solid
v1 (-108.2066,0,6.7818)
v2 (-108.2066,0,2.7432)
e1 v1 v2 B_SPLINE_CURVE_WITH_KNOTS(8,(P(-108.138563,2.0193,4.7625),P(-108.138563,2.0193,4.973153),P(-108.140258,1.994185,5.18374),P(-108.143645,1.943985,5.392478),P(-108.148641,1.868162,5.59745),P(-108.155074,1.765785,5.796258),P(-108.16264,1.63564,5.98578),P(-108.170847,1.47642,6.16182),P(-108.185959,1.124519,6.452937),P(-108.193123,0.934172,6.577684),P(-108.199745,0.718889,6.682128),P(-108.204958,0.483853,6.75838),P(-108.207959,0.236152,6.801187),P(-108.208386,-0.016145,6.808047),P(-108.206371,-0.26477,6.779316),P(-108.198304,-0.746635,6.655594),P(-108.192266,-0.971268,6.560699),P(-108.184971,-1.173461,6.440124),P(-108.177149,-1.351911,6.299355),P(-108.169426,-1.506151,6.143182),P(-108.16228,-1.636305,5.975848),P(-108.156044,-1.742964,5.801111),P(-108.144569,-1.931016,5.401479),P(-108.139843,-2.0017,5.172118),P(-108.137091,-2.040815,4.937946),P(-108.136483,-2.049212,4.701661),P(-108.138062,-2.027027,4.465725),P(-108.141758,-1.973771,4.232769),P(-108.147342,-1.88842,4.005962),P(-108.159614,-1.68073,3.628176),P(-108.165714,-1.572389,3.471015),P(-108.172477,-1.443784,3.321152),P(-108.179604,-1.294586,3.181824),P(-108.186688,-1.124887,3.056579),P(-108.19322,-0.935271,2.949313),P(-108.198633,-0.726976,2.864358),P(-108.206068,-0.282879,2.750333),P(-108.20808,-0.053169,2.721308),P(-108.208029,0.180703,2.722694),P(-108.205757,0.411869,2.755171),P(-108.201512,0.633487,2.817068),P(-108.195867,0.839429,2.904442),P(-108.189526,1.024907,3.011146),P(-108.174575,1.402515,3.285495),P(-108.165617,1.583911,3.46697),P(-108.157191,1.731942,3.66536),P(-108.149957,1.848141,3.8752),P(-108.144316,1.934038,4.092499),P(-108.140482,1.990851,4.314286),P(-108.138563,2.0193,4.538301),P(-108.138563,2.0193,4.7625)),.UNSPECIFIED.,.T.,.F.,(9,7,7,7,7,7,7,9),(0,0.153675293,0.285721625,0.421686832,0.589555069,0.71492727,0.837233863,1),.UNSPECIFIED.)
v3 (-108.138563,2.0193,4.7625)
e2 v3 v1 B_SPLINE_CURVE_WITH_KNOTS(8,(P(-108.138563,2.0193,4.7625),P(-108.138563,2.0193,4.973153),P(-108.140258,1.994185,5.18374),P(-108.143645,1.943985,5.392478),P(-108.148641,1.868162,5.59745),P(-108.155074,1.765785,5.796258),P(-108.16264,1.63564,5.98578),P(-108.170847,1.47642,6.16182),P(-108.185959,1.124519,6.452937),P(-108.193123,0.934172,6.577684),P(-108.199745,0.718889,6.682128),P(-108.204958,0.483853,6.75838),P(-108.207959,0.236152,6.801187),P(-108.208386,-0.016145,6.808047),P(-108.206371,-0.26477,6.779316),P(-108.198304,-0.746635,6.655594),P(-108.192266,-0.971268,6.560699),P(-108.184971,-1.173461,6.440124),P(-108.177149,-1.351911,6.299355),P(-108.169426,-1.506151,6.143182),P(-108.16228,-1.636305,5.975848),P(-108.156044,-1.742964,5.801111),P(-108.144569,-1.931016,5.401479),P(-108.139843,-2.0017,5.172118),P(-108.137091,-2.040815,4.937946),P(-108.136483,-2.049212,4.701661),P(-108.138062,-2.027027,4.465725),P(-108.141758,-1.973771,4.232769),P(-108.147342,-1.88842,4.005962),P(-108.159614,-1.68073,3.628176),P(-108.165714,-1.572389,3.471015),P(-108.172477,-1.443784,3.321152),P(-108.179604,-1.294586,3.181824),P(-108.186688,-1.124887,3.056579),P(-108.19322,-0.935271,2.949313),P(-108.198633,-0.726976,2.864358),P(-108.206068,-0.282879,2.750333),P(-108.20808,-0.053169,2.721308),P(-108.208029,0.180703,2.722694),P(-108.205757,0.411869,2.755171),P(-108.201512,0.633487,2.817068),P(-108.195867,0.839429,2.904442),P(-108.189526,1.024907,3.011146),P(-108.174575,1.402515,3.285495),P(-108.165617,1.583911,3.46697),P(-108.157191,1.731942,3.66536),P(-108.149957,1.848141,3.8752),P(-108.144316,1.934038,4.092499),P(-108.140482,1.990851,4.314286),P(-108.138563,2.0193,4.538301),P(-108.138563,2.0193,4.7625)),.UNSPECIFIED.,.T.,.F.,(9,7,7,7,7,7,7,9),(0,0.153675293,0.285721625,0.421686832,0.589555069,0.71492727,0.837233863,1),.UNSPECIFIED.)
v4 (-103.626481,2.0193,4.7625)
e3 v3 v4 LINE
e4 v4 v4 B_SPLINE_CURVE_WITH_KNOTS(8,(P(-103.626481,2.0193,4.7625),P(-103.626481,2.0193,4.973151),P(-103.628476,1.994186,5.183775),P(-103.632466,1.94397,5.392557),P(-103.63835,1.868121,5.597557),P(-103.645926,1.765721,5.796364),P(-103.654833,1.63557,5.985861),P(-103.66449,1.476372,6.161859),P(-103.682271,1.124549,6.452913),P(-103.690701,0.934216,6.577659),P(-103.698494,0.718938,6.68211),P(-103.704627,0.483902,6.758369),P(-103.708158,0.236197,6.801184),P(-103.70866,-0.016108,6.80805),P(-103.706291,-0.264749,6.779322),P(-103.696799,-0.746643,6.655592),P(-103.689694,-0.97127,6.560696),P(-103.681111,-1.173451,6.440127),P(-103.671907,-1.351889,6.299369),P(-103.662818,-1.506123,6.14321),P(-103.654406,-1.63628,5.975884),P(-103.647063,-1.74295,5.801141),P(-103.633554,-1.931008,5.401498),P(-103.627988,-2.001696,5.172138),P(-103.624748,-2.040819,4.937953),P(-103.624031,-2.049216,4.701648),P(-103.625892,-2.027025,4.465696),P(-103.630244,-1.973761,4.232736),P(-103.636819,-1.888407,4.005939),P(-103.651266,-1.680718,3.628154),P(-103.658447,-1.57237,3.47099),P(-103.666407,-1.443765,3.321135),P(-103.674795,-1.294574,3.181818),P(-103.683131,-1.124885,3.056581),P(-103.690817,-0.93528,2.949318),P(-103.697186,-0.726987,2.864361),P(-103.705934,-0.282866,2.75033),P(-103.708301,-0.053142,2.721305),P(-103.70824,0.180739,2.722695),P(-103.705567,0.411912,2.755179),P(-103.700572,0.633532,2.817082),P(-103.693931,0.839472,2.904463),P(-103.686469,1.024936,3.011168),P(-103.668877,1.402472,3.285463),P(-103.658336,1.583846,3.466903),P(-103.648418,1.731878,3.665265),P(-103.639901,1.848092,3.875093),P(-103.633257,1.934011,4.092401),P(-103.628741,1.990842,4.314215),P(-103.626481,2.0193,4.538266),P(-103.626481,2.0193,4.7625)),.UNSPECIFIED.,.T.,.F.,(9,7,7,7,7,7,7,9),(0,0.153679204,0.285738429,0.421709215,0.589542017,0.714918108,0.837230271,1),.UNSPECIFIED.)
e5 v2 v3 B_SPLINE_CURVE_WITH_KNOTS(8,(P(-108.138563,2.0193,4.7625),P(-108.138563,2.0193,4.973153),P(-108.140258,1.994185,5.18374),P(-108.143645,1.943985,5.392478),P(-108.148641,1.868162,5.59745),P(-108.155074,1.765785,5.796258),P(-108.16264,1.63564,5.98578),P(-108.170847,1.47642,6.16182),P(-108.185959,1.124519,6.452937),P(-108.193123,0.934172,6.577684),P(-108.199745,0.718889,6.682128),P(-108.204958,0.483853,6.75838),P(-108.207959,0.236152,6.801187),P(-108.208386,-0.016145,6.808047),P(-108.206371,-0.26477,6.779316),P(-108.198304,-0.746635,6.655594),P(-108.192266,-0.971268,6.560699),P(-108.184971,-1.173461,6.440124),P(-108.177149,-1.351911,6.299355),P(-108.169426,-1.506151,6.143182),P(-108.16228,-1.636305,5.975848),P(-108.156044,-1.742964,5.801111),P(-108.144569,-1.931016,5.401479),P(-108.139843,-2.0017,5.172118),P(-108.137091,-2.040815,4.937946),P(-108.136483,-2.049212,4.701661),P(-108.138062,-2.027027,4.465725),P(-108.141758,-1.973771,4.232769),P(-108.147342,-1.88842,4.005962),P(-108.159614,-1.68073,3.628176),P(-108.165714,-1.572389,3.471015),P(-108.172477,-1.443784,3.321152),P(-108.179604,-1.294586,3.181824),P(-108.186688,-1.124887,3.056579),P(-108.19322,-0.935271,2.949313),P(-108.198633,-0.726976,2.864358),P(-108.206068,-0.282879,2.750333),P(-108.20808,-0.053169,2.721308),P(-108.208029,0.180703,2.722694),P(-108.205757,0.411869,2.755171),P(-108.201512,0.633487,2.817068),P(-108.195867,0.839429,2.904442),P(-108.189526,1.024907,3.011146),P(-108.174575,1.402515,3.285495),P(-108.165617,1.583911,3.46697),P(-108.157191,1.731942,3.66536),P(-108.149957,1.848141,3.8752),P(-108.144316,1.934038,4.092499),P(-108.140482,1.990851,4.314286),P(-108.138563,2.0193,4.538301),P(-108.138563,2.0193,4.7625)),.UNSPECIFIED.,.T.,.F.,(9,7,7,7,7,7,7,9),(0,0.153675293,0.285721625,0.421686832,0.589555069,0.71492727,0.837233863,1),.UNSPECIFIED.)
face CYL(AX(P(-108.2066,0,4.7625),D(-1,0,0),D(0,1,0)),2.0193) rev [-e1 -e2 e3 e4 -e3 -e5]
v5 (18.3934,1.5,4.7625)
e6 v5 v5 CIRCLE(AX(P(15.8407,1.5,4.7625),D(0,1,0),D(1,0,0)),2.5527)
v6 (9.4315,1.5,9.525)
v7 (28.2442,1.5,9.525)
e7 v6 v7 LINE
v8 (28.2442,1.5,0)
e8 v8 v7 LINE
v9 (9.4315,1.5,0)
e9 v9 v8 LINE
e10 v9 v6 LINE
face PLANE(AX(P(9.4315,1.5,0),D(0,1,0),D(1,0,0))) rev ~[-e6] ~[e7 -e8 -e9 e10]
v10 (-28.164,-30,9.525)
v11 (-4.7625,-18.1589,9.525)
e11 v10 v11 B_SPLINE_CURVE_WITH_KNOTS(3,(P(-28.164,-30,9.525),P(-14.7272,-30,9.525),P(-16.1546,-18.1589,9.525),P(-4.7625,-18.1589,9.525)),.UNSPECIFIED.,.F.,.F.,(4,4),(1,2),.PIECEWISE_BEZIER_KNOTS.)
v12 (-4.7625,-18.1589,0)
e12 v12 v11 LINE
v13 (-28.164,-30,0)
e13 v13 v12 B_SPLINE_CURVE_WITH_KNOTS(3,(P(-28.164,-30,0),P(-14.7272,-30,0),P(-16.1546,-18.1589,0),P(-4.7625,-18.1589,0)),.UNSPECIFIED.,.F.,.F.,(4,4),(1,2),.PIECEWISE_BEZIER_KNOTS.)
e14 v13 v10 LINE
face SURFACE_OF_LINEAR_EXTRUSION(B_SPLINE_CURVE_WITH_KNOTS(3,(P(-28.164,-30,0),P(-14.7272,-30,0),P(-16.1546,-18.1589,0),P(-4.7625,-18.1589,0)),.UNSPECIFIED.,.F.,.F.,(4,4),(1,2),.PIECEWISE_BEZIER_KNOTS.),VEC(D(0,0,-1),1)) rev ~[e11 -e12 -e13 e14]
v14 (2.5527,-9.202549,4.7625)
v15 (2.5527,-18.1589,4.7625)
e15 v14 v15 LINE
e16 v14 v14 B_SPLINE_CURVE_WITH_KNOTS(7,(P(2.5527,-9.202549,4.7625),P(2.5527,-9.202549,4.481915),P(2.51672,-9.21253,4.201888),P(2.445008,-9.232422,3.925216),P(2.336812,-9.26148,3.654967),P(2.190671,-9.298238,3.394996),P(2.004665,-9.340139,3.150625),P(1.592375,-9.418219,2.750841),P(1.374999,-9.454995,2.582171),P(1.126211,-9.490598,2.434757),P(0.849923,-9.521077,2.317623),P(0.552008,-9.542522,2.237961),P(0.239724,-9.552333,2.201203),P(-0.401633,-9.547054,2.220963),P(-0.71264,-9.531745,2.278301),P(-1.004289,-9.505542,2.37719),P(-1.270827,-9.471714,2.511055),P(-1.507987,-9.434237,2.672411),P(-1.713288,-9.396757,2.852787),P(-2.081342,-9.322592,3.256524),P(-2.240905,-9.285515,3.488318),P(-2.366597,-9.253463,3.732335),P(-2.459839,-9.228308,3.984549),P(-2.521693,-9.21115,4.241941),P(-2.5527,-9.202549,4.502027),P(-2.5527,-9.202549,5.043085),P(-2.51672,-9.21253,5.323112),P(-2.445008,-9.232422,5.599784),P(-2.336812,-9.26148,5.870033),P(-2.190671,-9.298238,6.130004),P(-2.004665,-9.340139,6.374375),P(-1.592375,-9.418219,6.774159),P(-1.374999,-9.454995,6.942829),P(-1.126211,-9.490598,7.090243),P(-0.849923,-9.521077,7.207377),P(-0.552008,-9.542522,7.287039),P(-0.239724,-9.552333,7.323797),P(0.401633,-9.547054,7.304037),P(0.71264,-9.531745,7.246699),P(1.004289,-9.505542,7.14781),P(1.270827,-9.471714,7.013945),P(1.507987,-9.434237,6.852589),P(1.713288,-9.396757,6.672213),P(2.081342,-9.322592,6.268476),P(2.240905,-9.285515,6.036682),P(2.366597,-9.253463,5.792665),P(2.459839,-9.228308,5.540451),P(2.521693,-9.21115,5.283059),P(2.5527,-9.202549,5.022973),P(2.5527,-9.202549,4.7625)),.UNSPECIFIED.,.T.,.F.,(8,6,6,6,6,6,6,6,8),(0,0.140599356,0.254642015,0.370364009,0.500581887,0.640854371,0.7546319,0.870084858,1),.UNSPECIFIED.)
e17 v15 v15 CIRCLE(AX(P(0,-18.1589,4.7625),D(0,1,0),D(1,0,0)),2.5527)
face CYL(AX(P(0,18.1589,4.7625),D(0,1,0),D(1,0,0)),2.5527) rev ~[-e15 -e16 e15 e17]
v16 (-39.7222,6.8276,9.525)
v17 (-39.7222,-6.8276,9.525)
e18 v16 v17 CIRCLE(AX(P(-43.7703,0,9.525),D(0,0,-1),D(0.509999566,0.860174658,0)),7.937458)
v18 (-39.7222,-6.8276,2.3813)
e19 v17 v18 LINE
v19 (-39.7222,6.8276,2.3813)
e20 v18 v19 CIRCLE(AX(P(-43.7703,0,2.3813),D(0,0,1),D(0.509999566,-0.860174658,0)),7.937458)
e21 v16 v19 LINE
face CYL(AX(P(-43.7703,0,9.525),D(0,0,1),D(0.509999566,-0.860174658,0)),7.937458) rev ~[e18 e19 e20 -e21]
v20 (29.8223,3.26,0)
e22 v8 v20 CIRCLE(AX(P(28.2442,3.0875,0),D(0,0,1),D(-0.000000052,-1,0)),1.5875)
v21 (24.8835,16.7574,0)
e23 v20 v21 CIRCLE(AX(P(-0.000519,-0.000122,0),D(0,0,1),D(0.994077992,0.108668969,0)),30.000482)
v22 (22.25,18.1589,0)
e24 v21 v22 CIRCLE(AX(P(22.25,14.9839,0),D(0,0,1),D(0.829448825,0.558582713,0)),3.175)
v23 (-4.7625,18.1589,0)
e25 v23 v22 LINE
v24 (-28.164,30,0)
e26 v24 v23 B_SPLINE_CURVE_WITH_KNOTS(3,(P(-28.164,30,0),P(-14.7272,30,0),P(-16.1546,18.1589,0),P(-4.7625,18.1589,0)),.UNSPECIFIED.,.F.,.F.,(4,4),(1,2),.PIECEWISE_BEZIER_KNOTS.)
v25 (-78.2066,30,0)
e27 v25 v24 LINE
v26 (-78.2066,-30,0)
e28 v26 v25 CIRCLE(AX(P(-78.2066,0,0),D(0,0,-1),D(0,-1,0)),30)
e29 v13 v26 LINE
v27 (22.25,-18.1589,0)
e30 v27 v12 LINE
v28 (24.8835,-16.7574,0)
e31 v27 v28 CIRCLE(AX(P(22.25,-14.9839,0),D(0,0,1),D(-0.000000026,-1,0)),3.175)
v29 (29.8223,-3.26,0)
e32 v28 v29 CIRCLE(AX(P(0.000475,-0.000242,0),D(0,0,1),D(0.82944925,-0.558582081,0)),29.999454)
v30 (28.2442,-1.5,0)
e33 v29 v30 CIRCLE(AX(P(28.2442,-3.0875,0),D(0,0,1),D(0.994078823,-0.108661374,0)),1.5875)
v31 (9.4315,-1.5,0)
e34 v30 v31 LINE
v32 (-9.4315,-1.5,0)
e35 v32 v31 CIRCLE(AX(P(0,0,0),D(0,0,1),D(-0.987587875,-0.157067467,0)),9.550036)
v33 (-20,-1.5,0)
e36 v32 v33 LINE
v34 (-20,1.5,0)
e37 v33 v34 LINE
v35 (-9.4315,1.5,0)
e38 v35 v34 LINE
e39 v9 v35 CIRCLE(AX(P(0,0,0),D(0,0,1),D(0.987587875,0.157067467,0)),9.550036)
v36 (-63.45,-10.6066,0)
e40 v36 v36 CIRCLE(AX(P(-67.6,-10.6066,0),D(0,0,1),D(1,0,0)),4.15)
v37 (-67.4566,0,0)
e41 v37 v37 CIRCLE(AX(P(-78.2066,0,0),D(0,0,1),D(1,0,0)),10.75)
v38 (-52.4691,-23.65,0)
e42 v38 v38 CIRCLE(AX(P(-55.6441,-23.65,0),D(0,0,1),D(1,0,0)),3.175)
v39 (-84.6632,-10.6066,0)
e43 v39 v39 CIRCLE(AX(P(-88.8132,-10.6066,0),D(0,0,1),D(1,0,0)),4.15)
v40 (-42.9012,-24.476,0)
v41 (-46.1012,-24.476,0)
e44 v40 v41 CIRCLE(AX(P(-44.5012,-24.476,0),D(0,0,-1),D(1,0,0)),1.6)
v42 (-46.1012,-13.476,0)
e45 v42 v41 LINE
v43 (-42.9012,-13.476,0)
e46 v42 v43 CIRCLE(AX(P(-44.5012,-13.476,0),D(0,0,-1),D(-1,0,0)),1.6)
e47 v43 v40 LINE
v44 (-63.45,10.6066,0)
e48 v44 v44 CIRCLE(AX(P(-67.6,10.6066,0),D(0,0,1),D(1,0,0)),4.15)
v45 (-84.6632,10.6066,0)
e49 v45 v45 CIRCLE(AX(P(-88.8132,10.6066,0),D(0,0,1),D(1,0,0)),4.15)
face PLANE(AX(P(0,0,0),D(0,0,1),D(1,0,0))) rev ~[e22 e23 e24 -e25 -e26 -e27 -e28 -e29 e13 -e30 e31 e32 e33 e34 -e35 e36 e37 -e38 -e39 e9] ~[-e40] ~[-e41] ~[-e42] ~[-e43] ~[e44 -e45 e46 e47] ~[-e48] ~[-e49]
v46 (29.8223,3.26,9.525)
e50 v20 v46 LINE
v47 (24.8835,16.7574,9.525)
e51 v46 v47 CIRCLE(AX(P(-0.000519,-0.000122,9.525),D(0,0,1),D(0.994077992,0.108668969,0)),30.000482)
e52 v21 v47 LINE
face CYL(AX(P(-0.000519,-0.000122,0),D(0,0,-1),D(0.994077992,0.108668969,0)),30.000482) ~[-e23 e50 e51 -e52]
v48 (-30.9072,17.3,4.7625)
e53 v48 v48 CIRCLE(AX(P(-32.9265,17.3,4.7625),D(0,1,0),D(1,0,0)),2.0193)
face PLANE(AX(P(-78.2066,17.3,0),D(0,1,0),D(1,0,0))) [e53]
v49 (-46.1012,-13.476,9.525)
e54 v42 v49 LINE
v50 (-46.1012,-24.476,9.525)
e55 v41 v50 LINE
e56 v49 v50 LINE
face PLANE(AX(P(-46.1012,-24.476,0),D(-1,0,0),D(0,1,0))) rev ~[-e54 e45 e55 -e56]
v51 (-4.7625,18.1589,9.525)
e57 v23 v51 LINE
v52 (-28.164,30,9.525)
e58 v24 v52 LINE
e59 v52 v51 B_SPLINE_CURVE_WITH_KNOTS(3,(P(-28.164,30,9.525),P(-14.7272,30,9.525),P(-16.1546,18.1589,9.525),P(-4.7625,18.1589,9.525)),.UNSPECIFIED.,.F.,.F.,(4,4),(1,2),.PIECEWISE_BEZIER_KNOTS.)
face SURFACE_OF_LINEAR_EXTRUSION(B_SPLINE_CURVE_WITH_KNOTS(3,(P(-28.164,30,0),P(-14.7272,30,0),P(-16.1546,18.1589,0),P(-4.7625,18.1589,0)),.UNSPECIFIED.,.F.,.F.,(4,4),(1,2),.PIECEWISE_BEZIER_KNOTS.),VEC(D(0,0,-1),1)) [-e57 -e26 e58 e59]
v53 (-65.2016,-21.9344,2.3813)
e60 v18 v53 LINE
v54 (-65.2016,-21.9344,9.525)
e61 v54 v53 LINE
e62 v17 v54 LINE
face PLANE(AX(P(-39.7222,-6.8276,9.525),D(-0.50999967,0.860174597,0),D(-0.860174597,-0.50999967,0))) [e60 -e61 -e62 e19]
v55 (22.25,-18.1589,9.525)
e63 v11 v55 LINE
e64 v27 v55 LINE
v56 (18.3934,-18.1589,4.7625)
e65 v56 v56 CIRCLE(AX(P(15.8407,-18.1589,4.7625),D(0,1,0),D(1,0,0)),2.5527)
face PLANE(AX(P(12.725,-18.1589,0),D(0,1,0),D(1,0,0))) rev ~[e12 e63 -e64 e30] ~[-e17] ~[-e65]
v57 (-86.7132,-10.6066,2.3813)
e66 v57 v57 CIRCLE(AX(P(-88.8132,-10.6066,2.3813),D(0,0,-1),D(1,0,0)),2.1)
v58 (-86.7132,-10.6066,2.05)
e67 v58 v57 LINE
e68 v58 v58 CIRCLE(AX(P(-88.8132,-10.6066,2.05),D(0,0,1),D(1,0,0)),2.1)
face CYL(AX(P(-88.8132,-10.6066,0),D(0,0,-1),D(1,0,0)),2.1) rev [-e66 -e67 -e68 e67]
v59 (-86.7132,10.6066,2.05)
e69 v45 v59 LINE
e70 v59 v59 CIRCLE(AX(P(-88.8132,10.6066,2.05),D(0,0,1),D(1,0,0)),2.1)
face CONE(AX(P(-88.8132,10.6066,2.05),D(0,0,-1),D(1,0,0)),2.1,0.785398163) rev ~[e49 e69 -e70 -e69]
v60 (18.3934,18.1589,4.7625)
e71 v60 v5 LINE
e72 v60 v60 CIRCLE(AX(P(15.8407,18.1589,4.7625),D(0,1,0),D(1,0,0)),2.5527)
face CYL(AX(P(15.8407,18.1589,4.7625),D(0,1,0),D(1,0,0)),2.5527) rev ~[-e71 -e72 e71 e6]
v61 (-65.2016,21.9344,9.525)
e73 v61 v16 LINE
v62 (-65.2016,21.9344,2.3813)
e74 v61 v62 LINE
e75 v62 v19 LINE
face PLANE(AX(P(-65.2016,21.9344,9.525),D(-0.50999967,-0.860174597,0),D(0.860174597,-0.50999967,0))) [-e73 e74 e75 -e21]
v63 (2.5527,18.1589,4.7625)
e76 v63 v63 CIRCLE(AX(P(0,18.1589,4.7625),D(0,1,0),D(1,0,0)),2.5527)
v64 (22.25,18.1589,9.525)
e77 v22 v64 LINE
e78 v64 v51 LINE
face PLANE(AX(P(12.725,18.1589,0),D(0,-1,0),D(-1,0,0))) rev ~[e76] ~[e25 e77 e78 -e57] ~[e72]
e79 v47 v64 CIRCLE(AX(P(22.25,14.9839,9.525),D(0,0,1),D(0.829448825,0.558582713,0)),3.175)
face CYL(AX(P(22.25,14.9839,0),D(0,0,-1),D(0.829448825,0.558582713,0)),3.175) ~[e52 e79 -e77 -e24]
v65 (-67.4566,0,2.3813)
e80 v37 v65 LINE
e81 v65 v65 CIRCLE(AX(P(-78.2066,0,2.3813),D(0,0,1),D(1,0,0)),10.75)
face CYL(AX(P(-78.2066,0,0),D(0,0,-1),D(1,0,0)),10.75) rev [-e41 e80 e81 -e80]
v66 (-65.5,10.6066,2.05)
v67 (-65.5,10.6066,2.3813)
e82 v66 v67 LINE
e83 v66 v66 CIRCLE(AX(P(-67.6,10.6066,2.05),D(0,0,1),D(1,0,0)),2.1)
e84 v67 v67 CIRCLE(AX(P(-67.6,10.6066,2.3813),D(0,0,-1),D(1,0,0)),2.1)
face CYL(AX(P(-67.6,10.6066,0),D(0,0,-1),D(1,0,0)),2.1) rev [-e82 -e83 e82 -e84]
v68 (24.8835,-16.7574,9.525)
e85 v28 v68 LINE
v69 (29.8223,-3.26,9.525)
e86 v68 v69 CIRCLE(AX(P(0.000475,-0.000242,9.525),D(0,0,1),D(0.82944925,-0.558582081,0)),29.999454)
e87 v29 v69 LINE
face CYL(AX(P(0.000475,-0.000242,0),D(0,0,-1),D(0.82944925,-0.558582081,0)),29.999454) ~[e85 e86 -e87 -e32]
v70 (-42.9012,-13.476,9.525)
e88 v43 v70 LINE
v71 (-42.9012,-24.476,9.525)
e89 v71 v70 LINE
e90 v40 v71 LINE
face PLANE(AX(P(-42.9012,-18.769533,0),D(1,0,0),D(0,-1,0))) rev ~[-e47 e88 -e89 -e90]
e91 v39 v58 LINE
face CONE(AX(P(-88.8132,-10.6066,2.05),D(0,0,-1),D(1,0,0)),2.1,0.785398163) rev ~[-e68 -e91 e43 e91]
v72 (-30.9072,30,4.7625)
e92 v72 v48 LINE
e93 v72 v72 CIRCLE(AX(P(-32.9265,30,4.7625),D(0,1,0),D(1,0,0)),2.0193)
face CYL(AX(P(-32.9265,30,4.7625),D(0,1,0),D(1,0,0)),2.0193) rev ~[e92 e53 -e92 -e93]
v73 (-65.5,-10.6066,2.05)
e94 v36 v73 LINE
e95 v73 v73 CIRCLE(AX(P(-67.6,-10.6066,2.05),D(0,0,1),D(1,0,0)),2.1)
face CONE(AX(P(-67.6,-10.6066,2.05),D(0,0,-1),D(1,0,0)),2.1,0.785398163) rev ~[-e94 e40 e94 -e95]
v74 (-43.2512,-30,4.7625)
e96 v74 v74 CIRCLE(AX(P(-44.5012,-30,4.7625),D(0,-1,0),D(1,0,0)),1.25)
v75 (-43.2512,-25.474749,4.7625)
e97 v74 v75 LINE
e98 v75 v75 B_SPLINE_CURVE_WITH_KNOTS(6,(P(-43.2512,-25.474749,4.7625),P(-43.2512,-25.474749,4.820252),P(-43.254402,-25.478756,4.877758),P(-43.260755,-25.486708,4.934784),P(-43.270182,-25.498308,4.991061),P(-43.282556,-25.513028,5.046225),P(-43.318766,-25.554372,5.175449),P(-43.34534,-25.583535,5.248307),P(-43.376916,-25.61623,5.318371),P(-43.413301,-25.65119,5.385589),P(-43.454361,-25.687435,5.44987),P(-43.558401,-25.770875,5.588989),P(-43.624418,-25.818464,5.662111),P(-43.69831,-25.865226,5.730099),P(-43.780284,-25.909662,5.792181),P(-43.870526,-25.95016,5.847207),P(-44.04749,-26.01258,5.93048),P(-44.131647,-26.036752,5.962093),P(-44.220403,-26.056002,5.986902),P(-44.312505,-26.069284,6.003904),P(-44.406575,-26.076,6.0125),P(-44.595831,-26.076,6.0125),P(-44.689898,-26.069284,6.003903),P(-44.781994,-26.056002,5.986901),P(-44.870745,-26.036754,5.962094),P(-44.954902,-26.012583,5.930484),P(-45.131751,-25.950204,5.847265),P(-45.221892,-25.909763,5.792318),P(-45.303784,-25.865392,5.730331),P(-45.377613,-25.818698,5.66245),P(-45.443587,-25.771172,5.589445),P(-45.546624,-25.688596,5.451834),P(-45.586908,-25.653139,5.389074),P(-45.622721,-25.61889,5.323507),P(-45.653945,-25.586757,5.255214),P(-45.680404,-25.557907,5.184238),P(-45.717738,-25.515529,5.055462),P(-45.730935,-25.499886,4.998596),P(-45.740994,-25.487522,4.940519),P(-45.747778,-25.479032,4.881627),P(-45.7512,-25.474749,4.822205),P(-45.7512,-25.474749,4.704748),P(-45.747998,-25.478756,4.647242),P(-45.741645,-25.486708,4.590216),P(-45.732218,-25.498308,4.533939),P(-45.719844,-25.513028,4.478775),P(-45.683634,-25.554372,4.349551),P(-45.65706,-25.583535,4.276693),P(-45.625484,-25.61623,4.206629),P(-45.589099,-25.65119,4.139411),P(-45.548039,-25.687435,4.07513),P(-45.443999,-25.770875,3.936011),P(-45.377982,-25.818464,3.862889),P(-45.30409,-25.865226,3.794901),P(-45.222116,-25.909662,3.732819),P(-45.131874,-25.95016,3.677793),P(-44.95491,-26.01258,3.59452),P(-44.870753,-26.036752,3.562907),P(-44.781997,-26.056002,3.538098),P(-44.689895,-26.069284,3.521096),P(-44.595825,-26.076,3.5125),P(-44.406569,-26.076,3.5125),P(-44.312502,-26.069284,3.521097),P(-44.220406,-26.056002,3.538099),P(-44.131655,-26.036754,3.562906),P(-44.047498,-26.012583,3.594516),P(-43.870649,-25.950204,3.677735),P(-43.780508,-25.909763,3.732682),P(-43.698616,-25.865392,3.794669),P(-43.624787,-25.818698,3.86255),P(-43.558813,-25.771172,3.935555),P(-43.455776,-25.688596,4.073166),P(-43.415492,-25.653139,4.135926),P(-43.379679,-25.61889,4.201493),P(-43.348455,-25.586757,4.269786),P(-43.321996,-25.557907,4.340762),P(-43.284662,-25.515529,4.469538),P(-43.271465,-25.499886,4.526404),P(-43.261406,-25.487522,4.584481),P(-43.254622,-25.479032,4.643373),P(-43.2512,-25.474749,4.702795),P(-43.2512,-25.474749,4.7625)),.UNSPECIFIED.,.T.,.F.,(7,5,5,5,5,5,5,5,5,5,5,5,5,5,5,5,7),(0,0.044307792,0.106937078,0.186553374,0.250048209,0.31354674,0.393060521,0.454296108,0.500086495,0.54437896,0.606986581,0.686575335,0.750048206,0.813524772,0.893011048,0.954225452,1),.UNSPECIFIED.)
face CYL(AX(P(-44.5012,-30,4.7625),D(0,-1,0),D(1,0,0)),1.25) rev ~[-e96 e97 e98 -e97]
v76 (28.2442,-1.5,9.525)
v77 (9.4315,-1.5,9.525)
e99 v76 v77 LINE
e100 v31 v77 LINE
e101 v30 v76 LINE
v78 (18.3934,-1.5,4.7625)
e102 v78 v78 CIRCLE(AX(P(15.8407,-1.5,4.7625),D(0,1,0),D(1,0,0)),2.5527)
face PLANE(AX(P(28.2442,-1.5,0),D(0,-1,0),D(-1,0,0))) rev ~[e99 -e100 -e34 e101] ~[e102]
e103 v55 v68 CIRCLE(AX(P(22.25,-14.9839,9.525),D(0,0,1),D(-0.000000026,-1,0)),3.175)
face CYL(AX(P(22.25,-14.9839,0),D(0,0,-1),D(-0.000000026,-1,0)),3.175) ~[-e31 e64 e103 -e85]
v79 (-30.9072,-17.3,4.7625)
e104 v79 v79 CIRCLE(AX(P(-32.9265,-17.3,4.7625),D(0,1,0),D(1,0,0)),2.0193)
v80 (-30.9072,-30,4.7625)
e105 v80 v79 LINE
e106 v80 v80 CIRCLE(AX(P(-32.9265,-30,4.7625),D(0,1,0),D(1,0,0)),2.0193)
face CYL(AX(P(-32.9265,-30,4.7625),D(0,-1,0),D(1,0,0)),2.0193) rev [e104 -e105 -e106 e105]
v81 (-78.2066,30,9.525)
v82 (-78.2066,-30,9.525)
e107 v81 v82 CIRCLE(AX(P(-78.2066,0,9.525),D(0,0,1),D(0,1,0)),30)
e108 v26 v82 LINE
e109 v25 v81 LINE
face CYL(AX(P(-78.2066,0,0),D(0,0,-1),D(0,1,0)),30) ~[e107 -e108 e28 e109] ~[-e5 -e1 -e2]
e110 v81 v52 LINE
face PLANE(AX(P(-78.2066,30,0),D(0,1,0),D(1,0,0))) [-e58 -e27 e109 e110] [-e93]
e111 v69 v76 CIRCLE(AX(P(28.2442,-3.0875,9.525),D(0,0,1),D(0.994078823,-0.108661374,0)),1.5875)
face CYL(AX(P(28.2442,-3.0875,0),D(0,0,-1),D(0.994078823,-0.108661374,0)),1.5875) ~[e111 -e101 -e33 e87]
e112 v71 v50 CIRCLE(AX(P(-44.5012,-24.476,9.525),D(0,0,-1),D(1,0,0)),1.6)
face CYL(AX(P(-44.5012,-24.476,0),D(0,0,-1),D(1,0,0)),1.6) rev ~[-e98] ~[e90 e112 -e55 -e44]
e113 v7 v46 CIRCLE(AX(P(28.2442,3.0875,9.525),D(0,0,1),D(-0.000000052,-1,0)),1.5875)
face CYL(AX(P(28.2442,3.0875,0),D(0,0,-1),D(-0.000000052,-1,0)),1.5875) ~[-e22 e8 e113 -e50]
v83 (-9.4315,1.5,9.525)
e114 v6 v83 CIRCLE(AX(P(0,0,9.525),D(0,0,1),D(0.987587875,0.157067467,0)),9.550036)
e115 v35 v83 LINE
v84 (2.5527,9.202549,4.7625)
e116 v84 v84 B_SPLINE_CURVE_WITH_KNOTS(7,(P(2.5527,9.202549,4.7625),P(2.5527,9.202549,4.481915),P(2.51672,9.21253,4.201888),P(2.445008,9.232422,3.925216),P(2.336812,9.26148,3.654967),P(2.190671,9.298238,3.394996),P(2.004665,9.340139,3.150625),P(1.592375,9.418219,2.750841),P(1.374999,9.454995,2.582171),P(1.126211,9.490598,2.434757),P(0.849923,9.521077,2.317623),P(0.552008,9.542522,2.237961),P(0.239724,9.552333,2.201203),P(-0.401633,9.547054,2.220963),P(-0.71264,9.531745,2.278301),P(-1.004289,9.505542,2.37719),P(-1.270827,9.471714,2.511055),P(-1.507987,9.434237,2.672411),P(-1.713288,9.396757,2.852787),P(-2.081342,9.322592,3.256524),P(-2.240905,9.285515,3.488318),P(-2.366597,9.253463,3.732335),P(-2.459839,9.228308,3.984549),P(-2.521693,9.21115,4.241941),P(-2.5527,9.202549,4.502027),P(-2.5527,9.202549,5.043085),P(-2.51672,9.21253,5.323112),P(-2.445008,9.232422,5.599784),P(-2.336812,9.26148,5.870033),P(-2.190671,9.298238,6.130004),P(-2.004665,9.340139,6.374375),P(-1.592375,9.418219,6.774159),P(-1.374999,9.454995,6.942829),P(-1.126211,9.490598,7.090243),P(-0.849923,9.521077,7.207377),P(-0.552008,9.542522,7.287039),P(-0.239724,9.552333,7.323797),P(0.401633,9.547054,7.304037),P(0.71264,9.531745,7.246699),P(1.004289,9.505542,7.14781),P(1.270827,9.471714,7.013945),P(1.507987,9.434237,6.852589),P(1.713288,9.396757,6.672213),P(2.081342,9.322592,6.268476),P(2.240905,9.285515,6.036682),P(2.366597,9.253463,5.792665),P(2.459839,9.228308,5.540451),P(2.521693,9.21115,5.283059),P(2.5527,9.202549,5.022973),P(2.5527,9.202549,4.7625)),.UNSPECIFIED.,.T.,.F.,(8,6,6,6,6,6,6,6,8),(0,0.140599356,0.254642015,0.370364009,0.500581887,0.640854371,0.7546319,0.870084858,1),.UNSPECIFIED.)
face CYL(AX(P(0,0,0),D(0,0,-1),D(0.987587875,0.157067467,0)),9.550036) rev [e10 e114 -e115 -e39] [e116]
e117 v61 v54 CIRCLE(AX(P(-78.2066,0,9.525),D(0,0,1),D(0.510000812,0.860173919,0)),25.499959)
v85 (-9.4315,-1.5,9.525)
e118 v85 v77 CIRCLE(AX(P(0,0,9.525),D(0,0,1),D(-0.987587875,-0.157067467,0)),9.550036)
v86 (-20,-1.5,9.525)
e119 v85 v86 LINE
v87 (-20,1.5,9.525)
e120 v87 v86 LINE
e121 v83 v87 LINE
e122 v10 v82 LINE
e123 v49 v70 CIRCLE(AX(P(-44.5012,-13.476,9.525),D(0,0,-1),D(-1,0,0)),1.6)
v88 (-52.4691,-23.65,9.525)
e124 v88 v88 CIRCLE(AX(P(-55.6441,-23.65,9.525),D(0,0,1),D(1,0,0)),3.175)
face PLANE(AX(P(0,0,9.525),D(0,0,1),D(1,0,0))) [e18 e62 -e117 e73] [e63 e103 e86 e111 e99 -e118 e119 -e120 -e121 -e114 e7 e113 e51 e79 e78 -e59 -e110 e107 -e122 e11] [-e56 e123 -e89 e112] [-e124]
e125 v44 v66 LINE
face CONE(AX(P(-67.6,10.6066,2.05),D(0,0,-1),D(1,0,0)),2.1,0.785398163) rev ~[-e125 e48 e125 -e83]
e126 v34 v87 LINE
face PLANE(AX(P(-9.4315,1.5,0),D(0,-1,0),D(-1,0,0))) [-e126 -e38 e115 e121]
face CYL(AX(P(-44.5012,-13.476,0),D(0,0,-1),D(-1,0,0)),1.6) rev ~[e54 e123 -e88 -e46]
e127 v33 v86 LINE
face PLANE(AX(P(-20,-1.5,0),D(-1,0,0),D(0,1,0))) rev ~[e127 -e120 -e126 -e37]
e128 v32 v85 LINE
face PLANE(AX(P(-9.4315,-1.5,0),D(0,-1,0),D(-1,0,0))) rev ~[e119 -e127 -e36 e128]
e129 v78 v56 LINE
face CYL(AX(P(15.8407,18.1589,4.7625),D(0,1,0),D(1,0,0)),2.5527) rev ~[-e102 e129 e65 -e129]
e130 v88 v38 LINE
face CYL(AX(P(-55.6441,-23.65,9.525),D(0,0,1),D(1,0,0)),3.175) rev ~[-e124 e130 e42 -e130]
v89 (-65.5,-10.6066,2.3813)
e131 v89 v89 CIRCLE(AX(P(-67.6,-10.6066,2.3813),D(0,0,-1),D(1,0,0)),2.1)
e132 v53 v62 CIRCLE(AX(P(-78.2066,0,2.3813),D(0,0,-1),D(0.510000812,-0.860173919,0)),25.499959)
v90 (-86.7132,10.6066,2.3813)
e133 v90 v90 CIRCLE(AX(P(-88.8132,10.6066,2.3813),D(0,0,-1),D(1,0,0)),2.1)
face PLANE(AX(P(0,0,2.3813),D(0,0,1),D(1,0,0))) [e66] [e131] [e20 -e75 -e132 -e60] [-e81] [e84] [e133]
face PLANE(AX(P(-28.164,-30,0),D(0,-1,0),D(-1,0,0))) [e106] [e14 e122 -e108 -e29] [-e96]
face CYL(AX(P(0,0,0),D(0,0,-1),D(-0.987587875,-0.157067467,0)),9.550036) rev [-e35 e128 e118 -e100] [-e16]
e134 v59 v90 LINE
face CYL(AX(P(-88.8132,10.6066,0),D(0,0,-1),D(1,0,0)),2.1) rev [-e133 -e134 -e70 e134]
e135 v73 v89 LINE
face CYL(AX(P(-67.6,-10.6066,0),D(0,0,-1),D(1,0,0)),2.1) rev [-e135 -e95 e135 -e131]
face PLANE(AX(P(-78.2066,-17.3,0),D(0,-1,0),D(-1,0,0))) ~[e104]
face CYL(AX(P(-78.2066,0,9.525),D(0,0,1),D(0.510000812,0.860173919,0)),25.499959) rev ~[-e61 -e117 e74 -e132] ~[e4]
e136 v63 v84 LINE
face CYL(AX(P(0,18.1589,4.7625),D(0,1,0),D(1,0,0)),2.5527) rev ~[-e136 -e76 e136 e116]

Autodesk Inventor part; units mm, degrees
ref_plane "XZ Plane" through (0, 0, 0) normal (0, 1, 0) x (-1, 0, 0)
ref_plane "XY Plane" through (0, 0, 0) normal (0, 0, 1) x (1, 0, 0)
sketch "Sketch1" plane through (0, 0, 0) normal (0, 0, 1) x (1, 0, 0)
  circle A0 centre (-78.2066, 0) radius 10.75
  arc A1 (-78.2066, 30) -> (-78.2066, -30) centre (-78.2066, 0) ccw
  line L0 (-78.2066, 30) -> (-28.164, 30)
  line L1 (-28.164, -30) -> (-78.2066, -30)
  circle A2 centre (-88.8132, 10.6066) radius 2.1
  circle A3 centre (-67.6, -10.6066) radius 2.1
  circle A4 centre (-88.8132, -10.6066) radius 2.1
  circle A5 centre (-67.6, 10.6066) radius 2.1
  line L2 (-88.8132, 10.6066) -> (-67.6, -10.6066) construction
  line L3 (-67.6, 10.6066) -> (-88.8132, -10.6066) construction
  line L4 (-67.6, 10.6066) -> (-88.8132, 10.6066) construction
  line L5 (-67.6, 10.6066) -> (-67.6, -10.6066) construction
  line L6 (-135.9764, 0) -> (58.4124, 0) projected
  line L7 (9.4315, 1.5) -> (28.2442, 1.5)
  line L8 (28.2442, -1.5) -> (9.4315, -1.5)
  line L9 (-9.4315, 1.5) -> (-29.9625, 1.5)
  line L10 (-9.4315, -1.5) -> (-29.9625, -1.5)
  line L11 (-20, -1.5) -> (-20, 1.5)
  line L12 (9.55, -26.0565) -> (9.55, -21.3339)
  line L13 (12.725, -18.1589) -> (22.25, -18.1589)
  arc A6 (12.725, -18.1589) -> (9.55, -21.3339) centre (12.725, -21.3339) ccw
  arc A7 (7.1295, 29.1405) -> (0, 30) centre (0, 0) ccw
  arc A8 (9.4315, 1.5) -> (-9.4315, 1.5) centre (0, 0) ccw
  arc A9 (-9.4315, -1.5) -> (9.4315, -1.5) centre (0, 0) ccw
  arc A10 (24.8835, -16.7574) -> (29.8223, -3.26) centre (0, 0) ccw
  arc A11 (22.25, -18.1589) -> (24.8835, -16.7574) centre (22.25, -14.9839) ccw
  arc A12 (7.1295, -29.1405) -> (9.55, -26.0565) centre (6.375, -26.0565) ccw
  line L14 (9.55, 26.0565) -> (9.55, 21.3339)
  line L15 (12.725, 18.1589) -> (22.25, 18.1589)
  arc A13 (9.55, 21.3339) -> (12.725, 18.1589) centre (12.725, 21.3339) ccw
  arc A14 (29.8223, 3.26) -> (24.8835, 16.7574) centre (0, 0) ccw
  arc A15 (24.8835, 16.7574) -> (22.25, 18.1589) centre (22.25, 14.9839) ccw
  arc A16 (9.55, 26.0565) -> (7.1295, 29.1405) centre (6.375, 26.0565) ccw
  arc A17 (0, -30) -> (7.1295, -29.1405) centre (0, 0) ccw
  arc A18 (0, 30) -> (0, -30) centre (0, 0) ccw construction
  line L16 (-28.164, -30) -> (-14.7272, -30) construction
  line L17 (-14.7272, -30) -> (-16.1546, -18.1589) construction
  line L18 (-16.1546, -18.1589) -> (-4.7625, -18.1589) construction
  spline S0 degree 3 poles (-28.164, -30) (-14.7272, -30) (-16.1546, -18.1589) (-4.7625, -18.1589) knots 1 1 1 1 2 2 2 2
  arc A19 (28.2442, 1.5) -> (29.8223, 3.26) centre (28.2442, 3.0875) ccw
  arc A20 (29.8223, -3.26) -> (28.2442, -1.5) centre (28.2442, -3.0875) ccw
  line L19 (12.725, -18.1589) -> (-4.7625, -18.1589)
  line L20 (-28.164, 30) -> (-14.7272, 30) construction
  line L21 (-14.7272, 30) -> (-16.1546, 18.1589) construction
  line L22 (-16.1546, 18.1589) -> (-4.7625, 18.1589) construction
  spline S1 degree 3 poles (-28.164, 30) (-14.7272, 30) (-16.1546, 18.1589) (-4.7625, 18.1589) knots 1 1 1 1 2 2 2 2
  line L23 (12.725, 18.1589) -> (-4.7625, 18.1589)
  point P0 (-78.2066, 0)
  point P1 (9.55, -28.4394)
  point P2 (9.55, -18.1589)
  point P3 (23.88, -18.1589)
  point P4 (23.88, -18.1589)
  point P5 (29.9625, -1.5)
  point P6 (9.55, 28.4394)
  point P7 (9.55, 18.1589)
  point P8 (23.88, 18.1589)
  point P9 (23.88, 18.1589)
  point P10 (29.9625, 1.5)
  dimension "d2" = 21.5
  dimension "d3" = 78.2066
  dimension "d4" = 60
  dimension "d5" = 4.2
  dimension "d6" = 4.2
  dimension "d7" = 4.2
  dimension "d8" = 4.2
  dimension "d9" = 30
  dimension "d13" = 3
  dimension "d20" = 3
  dimension "d21" = 1.5
  dimension "d22" = 20
  dimension "d34" = 3.175
  dimension "d35" = 30
  dimension "d38" = 9.55
  dimension "d39" = 9.55
  dimension "d41" = 30
  dimension "d43" = 3.175
  dimension "d44" = 9.525
  dimension "d45" = 3.175
  dimension "d49" = 1.5875
  dimension "d85" = 4.7625
extrude "Extrusion4" add sketch "Sketch1" along normal blind 9.525 contours L6 L11 L10 A9 L8 A20 A10 A11 L13 L19 S0 L1 A1 A0 | A0 L6 A1 L0 S1 L23 L15 A15 A14 A19 L7 A8 L9 L11
sketch "Sketch4" plane through (0, 0, 9.525) normal (0, 0, 1) x (1, 0, 0)
  circle A0 centre (-78.2066, 0) radius 10.75 projected
  arc A1 (-65.2016, 21.9344) -> (-65.2016, -21.9344) centre (-78.2066, 0) ccw
  line L0 (-65.2016, 21.9344) -> (-39.7222, 6.8276)
  line L1 (-39.7222, -6.8276) -> (-65.2016, -21.9344)
  line L2 (-135.8143, 0) -> (57.4394, 0) projected
  arc A2 (-39.7222, -6.8276) -> (-39.7222, 6.8276) centre (-43.7703, 0) ccw
  point P0 (0, 0)
  point P1 (-28.2066, 0)
  dimension "d28" = 51
  dimension "d29" = 50
  dimension "d30" = 7.9375
extrude "Extrusion6" cut sketch "Sketch4" against normal blind 7.1437 contours L2 A2 L1 A1 A0 | A0 L2 A1 L0 A2
sketch "Sketch5" plane through (12.675, 18.1589, 0) normal (0, 1, 0) x (1, 0, 0)
  line L0 (9.575, 0) -> (9.575, -9.525) construction
  line L1 (-3.2435, 0) -> (-3.2435, -9.525) construction
  line L2 (9.575, 0) -> (-17.4375, 0) projected
  line L3 (9.575, -9.525) -> (-17.4375, -9.525) projected
  line L4 (9.575, 0) -> (-3.2435, 0) construction
  line L5 (-3.2435, -9.525) -> (9.575, -9.525) construction
  circle A0 centre (3.1657, -4.7625) radius 2.5527
  line L6 (-22.1065, 0) -> (-22.1065, -9.525) projected
  line L7 (-22.1065, 0) -> (-3.2435, 0) construction
  circle A1 centre (-12.675, -4.7625) radius 2.5527
  point P0 (-3.2435, -4.7625)
  point P1 (3.1657, 0)
  point P2 (-12.675, 0)
  dimension "d86" = 5.1054
  dimension "d87" = 5.1054
extrude "Extrusion7" cut sketch "Sketch5" against normal through all
sketch "Sketch6" plane through (-78.2066, 30, 0) normal (0, 1, 0) x (1, 0, 0)
  line L0 (50.0426, 0) -> (0, 0) projected
  line L1 (0, 0) -> (0, -9.525) projected
  line L2 (50.0426, -9.525) -> (0, -9.525) projected
  line L3 (50.0426, 0) -> (50.0426, -9.525) projected
  circle A0 centre (45.2801, -4.7625) radius 2.0193
  point P0 (78.2066, 0)
  point P1 (50.0426, -4.7625)
  dimension "d50" = 4.0386
  dimension "d51" = 4.7625
extrude "Extrusion8" cut sketch "Sketch6" against normal blind 12.7 contours A0
thread "Thread2" size "10-32 UNF" class "2B" standard "ANSI Unified Screw Threads" full length
mirror "Mirror1" about plane through (0, 0, 0) normal (0, 1, 0) of "Extrusion8"
ref_plane "Work Plane2" through (-108.2066, 0, 0) normal (1, 0, 0) x (0, 1, 0)
sketch "Sketch7" plane through (-108.2066, 0, 0) normal (1, 0, 0) x (0, 1, 0)
  line L0 (30, 0) -> (-30, 0) projected
  line L1 (-30, 0) -> (-30, 9.525) projected
  line L2 (30, 9.525) -> (-30, 9.525) projected
  line L3 (30, 0) -> (30, 9.525) projected
  circle A0 centre (0, 4.7625) radius 2.0193
  point P0 (0, 0)
  point P1 (-30, 4.7625)
  point P2 (0, 9.525)
  dimension "d54" = 4.0386
extrude "Extrusion9" cut sketch "Sketch7" along normal up to surface contours A0
sketch "Sketch8" plane through (0, 0, 9.525) normal (0, 0, 1) x (1, 0, 0)
  circle A0 centre (-67.6, 10.6066) radius 2.1 projected
  circle A1 centre (-88.8132, -10.6066) radius 2.1 projected
  circle A2 centre (-67.6, -10.6066) radius 2.1 projected
  circle A3 centre (-88.8132, 10.6066) radius 2.1 projected
  circle A4 centre (-78.2066, 0) radius 10.75 projected
  arc A5 (-65.2016, 21.9344) -> (-65.2016, -21.9344) centre (-78.2066, 0) ccw projected
  line L0 (-39.7222, -6.8276) -> (-65.2016, -21.9344) projected
  arc A6 (-39.7222, -6.8276) -> (-39.7222, 6.8276) centre (-43.7703, 0) ccw projected
  line L1 (-65.2016, 21.9344) -> (-39.7222, 6.8276) projected
  line L2 (-39.7222, -6.8276) -> (-65.2016, -21.9344) projected
  arc A7 (-65.2016, 21.9344) -> (-65.2016, -21.9344) centre (-78.2066, 0) ccw projected
  line L3 (-65.2016, 21.9344) -> (-39.7222, 6.8276) projected
  arc A8 (-39.7222, -6.8276) -> (-39.7222, 6.8276) centre (-43.7703, 0) ccw projected
  arc A9 (-78.2066, 30) -> (-78.2066, -30) centre (-78.2066, 0) ccw projected
  line L4 (-78.2066, -30) -> (-28.164, -30) projected
  line L5 (-4.7625, -18.1589) -> (22.25, -18.1589) projected
  arc A10 (22.25, -18.1589) -> (24.8835, -16.7574) centre (22.25, -14.9839) ccw projected
  arc A11 (24.8835, -16.7574) -> (29.8223, -3.26) centre (0, 0) ccw projected
  arc A12 (29.8223, -3.26) -> (28.2442, -1.5) centre (28.2442, -3.0875) ccw projected
  line L6 (28.2442, -1.5) -> (9.4315, -1.5) projected
  arc A13 (-9.4315, -1.5) -> (9.4315, -1.5) centre (0, 0) ccw projected
  line L7 (-9.4315, -1.5) -> (-20, -1.5) projected
  line L8 (-20, -1.5) -> (-20, 1.5) projected
  line L9 (-20, 1.5) -> (-9.4315, 1.5) projected
  arc A14 (9.4315, 1.5) -> (-9.4315, 1.5) centre (0, 0) ccw projected
  line L10 (9.4315, 1.5) -> (28.2442, 1.5) projected
  arc A15 (28.2442, 1.5) -> (29.8223, 3.26) centre (28.2442, 3.0875) ccw projected
  arc A16 (29.8223, 3.26) -> (24.8835, 16.7574) centre (0, 0) ccw projected
  arc A17 (24.8835, 16.7574) -> (22.25, 18.1589) centre (22.25, 14.9839) ccw projected
  line L11 (22.25, 18.1589) -> (-4.7625, 18.1589) projected
  line L12 (-28.164, 30) -> (-78.2066, 30) projected
  circle A18 centre (-55.6441, -23.65) radius 3.175
  line L13 (-135.9764, 0) -> (58.4124, 0) projected
  dimension "d57" = 6.35
  dimension "d58" = 6.35
  dimension "d59" = 6.35
extrude "Extrusion10" cut sketch "Sketch8" against normal through all contours A18
chamfer "Chamfer1" distance 2.05 angle 45 4 edges at (-69.7, -10.6066, 0) (-69.7, 10.6066, 0) (-90.9132, 10.6066, 0) (-90.9132, -10.6066, 0) measured on face at (-37.888, 14.0355, 0)
sketch "Sketch9" plane through (0, 0, 0) normal (0, 0, -1) x (-1, 0, 0)
  circle A0 centre (78.2066, 0) radius 10.75 projected
  arc A1 (-9.4315, -1.5) -> (9.4315, -1.5) centre (0, 0) ccw projected
  arc A2 (9.4315, 1.5) -> (-9.4315, 1.5) centre (0, 0) ccw projected
  arc A3 (80.5159, -8.2842) -> (80.5159, 8.2842) centre (78.2066, 0) ccw
  arc A4 (7.9482, 28.5129) -> (7.9482, -28.5129) centre (0, 0) ccw
  line L0 (7.9482, 28.5129) -> (80.5159, 8.2842)
  line L1 (80.5159, -8.2842) -> (7.9482, -28.5129)
  circle A5 centre (55.6441, -23.65) radius 3.175 projected
  line L2 (34.9458, -30) -> (30.9072, -30) projected
  circle A6 centre (55.6441, -23.65) radius 3.175 projected
  line L3 (52.4691, -23.65) -> (52.4691, -30) construction
  line L4 (52.4691, -30) -> (34.9458, -30)
  circle A7 centre (44.5012, -22.476) radius 4 construction
  arc A8 (42.9012, -24.476) -> (46.1012, -24.476) centre (44.5012, -24.476) ccw
  arc A9 (46.1012, -13.476) -> (42.9012, -13.476) centre (44.5012, -13.476) ccw
  line L5 (46.1012, -24.476) -> (46.1012, -13.476)
  line L6 (42.9012, -13.476) -> (42.9012, -24.476)
  point P0 (43.7074, -30)
  dimension "d65" = 17.2
  dimension "d66" = 59.2
  dimension "d67" = 8
  dimension "d68" = 3.2
  dimension "d69" = 3.2
  dimension "d70" = 2
  dimension "d71" = 11
  dimension "d84" = 0.7937
extrude "Extrusion11" cut sketch "Sketch9" against normal through all contours L5 A8 L6 L1 | L1 L6 A9 L5
sketch "Sketch10" plane through (-78.2066, -30, 0) normal (0, -1, 0) x (1, 0, 0)
  line L0 (35.3054, 0) -> (35.3054, 9.525) projected
  line L1 (32.1054, 0) -> (32.1054, 9.525) projected
  circle A0 centre (33.7054, 4.7625) radius 1.25
  line L2 (35.3054, 9.525) -> (32.1054, 9.525) construction
  point P0 (78.2066, 0)
  point P1 (32.1054, 4.7625)
  point P2 (33.7054, 9.525)
  dimension "d74" = 2.5
extrude "Extrusion12" cut sketch "Sketch10" against normal up to surface
thread "Thread1" size "M3x0.5" class "6H" standard "ANSI Metric M Profile" full length
thread "Thread3" size "10-32 UNF" class "2B" standard "ANSI Unified Screw Threads" full length
equation "\"d3\" = center_distance"
equation "\"d4\" = mount_diameter"
equation "\"d9\" = hole_pattern_diameter"
equation "\"d13\" = clamp_slit"
equation "\"d20\" = clamp_slit"
equation "\"d21\" = 0.5 * clamp_slit"
equation "\"d35\" = 0.5 * mount_diameter"
equation "\"d41\" = 0.5 * mount_diameter"
equation "\"d23\" = thickness"
equation "\"d31\" = thickness - motor_mount_thickness"
equation "\"mount_diameter\" = 60"
equation "\"center_distance\" = 78.2066"
equation "\"hole_pattern_diameter\" = 30"
equation "\"thickness\" = 9.525"
equation "\"clamp_slit\" = 3"
equation "\"motor_mount_thickness\" = 2.38125"
properties part number "MotorMount" material "Aluminum 6061"
